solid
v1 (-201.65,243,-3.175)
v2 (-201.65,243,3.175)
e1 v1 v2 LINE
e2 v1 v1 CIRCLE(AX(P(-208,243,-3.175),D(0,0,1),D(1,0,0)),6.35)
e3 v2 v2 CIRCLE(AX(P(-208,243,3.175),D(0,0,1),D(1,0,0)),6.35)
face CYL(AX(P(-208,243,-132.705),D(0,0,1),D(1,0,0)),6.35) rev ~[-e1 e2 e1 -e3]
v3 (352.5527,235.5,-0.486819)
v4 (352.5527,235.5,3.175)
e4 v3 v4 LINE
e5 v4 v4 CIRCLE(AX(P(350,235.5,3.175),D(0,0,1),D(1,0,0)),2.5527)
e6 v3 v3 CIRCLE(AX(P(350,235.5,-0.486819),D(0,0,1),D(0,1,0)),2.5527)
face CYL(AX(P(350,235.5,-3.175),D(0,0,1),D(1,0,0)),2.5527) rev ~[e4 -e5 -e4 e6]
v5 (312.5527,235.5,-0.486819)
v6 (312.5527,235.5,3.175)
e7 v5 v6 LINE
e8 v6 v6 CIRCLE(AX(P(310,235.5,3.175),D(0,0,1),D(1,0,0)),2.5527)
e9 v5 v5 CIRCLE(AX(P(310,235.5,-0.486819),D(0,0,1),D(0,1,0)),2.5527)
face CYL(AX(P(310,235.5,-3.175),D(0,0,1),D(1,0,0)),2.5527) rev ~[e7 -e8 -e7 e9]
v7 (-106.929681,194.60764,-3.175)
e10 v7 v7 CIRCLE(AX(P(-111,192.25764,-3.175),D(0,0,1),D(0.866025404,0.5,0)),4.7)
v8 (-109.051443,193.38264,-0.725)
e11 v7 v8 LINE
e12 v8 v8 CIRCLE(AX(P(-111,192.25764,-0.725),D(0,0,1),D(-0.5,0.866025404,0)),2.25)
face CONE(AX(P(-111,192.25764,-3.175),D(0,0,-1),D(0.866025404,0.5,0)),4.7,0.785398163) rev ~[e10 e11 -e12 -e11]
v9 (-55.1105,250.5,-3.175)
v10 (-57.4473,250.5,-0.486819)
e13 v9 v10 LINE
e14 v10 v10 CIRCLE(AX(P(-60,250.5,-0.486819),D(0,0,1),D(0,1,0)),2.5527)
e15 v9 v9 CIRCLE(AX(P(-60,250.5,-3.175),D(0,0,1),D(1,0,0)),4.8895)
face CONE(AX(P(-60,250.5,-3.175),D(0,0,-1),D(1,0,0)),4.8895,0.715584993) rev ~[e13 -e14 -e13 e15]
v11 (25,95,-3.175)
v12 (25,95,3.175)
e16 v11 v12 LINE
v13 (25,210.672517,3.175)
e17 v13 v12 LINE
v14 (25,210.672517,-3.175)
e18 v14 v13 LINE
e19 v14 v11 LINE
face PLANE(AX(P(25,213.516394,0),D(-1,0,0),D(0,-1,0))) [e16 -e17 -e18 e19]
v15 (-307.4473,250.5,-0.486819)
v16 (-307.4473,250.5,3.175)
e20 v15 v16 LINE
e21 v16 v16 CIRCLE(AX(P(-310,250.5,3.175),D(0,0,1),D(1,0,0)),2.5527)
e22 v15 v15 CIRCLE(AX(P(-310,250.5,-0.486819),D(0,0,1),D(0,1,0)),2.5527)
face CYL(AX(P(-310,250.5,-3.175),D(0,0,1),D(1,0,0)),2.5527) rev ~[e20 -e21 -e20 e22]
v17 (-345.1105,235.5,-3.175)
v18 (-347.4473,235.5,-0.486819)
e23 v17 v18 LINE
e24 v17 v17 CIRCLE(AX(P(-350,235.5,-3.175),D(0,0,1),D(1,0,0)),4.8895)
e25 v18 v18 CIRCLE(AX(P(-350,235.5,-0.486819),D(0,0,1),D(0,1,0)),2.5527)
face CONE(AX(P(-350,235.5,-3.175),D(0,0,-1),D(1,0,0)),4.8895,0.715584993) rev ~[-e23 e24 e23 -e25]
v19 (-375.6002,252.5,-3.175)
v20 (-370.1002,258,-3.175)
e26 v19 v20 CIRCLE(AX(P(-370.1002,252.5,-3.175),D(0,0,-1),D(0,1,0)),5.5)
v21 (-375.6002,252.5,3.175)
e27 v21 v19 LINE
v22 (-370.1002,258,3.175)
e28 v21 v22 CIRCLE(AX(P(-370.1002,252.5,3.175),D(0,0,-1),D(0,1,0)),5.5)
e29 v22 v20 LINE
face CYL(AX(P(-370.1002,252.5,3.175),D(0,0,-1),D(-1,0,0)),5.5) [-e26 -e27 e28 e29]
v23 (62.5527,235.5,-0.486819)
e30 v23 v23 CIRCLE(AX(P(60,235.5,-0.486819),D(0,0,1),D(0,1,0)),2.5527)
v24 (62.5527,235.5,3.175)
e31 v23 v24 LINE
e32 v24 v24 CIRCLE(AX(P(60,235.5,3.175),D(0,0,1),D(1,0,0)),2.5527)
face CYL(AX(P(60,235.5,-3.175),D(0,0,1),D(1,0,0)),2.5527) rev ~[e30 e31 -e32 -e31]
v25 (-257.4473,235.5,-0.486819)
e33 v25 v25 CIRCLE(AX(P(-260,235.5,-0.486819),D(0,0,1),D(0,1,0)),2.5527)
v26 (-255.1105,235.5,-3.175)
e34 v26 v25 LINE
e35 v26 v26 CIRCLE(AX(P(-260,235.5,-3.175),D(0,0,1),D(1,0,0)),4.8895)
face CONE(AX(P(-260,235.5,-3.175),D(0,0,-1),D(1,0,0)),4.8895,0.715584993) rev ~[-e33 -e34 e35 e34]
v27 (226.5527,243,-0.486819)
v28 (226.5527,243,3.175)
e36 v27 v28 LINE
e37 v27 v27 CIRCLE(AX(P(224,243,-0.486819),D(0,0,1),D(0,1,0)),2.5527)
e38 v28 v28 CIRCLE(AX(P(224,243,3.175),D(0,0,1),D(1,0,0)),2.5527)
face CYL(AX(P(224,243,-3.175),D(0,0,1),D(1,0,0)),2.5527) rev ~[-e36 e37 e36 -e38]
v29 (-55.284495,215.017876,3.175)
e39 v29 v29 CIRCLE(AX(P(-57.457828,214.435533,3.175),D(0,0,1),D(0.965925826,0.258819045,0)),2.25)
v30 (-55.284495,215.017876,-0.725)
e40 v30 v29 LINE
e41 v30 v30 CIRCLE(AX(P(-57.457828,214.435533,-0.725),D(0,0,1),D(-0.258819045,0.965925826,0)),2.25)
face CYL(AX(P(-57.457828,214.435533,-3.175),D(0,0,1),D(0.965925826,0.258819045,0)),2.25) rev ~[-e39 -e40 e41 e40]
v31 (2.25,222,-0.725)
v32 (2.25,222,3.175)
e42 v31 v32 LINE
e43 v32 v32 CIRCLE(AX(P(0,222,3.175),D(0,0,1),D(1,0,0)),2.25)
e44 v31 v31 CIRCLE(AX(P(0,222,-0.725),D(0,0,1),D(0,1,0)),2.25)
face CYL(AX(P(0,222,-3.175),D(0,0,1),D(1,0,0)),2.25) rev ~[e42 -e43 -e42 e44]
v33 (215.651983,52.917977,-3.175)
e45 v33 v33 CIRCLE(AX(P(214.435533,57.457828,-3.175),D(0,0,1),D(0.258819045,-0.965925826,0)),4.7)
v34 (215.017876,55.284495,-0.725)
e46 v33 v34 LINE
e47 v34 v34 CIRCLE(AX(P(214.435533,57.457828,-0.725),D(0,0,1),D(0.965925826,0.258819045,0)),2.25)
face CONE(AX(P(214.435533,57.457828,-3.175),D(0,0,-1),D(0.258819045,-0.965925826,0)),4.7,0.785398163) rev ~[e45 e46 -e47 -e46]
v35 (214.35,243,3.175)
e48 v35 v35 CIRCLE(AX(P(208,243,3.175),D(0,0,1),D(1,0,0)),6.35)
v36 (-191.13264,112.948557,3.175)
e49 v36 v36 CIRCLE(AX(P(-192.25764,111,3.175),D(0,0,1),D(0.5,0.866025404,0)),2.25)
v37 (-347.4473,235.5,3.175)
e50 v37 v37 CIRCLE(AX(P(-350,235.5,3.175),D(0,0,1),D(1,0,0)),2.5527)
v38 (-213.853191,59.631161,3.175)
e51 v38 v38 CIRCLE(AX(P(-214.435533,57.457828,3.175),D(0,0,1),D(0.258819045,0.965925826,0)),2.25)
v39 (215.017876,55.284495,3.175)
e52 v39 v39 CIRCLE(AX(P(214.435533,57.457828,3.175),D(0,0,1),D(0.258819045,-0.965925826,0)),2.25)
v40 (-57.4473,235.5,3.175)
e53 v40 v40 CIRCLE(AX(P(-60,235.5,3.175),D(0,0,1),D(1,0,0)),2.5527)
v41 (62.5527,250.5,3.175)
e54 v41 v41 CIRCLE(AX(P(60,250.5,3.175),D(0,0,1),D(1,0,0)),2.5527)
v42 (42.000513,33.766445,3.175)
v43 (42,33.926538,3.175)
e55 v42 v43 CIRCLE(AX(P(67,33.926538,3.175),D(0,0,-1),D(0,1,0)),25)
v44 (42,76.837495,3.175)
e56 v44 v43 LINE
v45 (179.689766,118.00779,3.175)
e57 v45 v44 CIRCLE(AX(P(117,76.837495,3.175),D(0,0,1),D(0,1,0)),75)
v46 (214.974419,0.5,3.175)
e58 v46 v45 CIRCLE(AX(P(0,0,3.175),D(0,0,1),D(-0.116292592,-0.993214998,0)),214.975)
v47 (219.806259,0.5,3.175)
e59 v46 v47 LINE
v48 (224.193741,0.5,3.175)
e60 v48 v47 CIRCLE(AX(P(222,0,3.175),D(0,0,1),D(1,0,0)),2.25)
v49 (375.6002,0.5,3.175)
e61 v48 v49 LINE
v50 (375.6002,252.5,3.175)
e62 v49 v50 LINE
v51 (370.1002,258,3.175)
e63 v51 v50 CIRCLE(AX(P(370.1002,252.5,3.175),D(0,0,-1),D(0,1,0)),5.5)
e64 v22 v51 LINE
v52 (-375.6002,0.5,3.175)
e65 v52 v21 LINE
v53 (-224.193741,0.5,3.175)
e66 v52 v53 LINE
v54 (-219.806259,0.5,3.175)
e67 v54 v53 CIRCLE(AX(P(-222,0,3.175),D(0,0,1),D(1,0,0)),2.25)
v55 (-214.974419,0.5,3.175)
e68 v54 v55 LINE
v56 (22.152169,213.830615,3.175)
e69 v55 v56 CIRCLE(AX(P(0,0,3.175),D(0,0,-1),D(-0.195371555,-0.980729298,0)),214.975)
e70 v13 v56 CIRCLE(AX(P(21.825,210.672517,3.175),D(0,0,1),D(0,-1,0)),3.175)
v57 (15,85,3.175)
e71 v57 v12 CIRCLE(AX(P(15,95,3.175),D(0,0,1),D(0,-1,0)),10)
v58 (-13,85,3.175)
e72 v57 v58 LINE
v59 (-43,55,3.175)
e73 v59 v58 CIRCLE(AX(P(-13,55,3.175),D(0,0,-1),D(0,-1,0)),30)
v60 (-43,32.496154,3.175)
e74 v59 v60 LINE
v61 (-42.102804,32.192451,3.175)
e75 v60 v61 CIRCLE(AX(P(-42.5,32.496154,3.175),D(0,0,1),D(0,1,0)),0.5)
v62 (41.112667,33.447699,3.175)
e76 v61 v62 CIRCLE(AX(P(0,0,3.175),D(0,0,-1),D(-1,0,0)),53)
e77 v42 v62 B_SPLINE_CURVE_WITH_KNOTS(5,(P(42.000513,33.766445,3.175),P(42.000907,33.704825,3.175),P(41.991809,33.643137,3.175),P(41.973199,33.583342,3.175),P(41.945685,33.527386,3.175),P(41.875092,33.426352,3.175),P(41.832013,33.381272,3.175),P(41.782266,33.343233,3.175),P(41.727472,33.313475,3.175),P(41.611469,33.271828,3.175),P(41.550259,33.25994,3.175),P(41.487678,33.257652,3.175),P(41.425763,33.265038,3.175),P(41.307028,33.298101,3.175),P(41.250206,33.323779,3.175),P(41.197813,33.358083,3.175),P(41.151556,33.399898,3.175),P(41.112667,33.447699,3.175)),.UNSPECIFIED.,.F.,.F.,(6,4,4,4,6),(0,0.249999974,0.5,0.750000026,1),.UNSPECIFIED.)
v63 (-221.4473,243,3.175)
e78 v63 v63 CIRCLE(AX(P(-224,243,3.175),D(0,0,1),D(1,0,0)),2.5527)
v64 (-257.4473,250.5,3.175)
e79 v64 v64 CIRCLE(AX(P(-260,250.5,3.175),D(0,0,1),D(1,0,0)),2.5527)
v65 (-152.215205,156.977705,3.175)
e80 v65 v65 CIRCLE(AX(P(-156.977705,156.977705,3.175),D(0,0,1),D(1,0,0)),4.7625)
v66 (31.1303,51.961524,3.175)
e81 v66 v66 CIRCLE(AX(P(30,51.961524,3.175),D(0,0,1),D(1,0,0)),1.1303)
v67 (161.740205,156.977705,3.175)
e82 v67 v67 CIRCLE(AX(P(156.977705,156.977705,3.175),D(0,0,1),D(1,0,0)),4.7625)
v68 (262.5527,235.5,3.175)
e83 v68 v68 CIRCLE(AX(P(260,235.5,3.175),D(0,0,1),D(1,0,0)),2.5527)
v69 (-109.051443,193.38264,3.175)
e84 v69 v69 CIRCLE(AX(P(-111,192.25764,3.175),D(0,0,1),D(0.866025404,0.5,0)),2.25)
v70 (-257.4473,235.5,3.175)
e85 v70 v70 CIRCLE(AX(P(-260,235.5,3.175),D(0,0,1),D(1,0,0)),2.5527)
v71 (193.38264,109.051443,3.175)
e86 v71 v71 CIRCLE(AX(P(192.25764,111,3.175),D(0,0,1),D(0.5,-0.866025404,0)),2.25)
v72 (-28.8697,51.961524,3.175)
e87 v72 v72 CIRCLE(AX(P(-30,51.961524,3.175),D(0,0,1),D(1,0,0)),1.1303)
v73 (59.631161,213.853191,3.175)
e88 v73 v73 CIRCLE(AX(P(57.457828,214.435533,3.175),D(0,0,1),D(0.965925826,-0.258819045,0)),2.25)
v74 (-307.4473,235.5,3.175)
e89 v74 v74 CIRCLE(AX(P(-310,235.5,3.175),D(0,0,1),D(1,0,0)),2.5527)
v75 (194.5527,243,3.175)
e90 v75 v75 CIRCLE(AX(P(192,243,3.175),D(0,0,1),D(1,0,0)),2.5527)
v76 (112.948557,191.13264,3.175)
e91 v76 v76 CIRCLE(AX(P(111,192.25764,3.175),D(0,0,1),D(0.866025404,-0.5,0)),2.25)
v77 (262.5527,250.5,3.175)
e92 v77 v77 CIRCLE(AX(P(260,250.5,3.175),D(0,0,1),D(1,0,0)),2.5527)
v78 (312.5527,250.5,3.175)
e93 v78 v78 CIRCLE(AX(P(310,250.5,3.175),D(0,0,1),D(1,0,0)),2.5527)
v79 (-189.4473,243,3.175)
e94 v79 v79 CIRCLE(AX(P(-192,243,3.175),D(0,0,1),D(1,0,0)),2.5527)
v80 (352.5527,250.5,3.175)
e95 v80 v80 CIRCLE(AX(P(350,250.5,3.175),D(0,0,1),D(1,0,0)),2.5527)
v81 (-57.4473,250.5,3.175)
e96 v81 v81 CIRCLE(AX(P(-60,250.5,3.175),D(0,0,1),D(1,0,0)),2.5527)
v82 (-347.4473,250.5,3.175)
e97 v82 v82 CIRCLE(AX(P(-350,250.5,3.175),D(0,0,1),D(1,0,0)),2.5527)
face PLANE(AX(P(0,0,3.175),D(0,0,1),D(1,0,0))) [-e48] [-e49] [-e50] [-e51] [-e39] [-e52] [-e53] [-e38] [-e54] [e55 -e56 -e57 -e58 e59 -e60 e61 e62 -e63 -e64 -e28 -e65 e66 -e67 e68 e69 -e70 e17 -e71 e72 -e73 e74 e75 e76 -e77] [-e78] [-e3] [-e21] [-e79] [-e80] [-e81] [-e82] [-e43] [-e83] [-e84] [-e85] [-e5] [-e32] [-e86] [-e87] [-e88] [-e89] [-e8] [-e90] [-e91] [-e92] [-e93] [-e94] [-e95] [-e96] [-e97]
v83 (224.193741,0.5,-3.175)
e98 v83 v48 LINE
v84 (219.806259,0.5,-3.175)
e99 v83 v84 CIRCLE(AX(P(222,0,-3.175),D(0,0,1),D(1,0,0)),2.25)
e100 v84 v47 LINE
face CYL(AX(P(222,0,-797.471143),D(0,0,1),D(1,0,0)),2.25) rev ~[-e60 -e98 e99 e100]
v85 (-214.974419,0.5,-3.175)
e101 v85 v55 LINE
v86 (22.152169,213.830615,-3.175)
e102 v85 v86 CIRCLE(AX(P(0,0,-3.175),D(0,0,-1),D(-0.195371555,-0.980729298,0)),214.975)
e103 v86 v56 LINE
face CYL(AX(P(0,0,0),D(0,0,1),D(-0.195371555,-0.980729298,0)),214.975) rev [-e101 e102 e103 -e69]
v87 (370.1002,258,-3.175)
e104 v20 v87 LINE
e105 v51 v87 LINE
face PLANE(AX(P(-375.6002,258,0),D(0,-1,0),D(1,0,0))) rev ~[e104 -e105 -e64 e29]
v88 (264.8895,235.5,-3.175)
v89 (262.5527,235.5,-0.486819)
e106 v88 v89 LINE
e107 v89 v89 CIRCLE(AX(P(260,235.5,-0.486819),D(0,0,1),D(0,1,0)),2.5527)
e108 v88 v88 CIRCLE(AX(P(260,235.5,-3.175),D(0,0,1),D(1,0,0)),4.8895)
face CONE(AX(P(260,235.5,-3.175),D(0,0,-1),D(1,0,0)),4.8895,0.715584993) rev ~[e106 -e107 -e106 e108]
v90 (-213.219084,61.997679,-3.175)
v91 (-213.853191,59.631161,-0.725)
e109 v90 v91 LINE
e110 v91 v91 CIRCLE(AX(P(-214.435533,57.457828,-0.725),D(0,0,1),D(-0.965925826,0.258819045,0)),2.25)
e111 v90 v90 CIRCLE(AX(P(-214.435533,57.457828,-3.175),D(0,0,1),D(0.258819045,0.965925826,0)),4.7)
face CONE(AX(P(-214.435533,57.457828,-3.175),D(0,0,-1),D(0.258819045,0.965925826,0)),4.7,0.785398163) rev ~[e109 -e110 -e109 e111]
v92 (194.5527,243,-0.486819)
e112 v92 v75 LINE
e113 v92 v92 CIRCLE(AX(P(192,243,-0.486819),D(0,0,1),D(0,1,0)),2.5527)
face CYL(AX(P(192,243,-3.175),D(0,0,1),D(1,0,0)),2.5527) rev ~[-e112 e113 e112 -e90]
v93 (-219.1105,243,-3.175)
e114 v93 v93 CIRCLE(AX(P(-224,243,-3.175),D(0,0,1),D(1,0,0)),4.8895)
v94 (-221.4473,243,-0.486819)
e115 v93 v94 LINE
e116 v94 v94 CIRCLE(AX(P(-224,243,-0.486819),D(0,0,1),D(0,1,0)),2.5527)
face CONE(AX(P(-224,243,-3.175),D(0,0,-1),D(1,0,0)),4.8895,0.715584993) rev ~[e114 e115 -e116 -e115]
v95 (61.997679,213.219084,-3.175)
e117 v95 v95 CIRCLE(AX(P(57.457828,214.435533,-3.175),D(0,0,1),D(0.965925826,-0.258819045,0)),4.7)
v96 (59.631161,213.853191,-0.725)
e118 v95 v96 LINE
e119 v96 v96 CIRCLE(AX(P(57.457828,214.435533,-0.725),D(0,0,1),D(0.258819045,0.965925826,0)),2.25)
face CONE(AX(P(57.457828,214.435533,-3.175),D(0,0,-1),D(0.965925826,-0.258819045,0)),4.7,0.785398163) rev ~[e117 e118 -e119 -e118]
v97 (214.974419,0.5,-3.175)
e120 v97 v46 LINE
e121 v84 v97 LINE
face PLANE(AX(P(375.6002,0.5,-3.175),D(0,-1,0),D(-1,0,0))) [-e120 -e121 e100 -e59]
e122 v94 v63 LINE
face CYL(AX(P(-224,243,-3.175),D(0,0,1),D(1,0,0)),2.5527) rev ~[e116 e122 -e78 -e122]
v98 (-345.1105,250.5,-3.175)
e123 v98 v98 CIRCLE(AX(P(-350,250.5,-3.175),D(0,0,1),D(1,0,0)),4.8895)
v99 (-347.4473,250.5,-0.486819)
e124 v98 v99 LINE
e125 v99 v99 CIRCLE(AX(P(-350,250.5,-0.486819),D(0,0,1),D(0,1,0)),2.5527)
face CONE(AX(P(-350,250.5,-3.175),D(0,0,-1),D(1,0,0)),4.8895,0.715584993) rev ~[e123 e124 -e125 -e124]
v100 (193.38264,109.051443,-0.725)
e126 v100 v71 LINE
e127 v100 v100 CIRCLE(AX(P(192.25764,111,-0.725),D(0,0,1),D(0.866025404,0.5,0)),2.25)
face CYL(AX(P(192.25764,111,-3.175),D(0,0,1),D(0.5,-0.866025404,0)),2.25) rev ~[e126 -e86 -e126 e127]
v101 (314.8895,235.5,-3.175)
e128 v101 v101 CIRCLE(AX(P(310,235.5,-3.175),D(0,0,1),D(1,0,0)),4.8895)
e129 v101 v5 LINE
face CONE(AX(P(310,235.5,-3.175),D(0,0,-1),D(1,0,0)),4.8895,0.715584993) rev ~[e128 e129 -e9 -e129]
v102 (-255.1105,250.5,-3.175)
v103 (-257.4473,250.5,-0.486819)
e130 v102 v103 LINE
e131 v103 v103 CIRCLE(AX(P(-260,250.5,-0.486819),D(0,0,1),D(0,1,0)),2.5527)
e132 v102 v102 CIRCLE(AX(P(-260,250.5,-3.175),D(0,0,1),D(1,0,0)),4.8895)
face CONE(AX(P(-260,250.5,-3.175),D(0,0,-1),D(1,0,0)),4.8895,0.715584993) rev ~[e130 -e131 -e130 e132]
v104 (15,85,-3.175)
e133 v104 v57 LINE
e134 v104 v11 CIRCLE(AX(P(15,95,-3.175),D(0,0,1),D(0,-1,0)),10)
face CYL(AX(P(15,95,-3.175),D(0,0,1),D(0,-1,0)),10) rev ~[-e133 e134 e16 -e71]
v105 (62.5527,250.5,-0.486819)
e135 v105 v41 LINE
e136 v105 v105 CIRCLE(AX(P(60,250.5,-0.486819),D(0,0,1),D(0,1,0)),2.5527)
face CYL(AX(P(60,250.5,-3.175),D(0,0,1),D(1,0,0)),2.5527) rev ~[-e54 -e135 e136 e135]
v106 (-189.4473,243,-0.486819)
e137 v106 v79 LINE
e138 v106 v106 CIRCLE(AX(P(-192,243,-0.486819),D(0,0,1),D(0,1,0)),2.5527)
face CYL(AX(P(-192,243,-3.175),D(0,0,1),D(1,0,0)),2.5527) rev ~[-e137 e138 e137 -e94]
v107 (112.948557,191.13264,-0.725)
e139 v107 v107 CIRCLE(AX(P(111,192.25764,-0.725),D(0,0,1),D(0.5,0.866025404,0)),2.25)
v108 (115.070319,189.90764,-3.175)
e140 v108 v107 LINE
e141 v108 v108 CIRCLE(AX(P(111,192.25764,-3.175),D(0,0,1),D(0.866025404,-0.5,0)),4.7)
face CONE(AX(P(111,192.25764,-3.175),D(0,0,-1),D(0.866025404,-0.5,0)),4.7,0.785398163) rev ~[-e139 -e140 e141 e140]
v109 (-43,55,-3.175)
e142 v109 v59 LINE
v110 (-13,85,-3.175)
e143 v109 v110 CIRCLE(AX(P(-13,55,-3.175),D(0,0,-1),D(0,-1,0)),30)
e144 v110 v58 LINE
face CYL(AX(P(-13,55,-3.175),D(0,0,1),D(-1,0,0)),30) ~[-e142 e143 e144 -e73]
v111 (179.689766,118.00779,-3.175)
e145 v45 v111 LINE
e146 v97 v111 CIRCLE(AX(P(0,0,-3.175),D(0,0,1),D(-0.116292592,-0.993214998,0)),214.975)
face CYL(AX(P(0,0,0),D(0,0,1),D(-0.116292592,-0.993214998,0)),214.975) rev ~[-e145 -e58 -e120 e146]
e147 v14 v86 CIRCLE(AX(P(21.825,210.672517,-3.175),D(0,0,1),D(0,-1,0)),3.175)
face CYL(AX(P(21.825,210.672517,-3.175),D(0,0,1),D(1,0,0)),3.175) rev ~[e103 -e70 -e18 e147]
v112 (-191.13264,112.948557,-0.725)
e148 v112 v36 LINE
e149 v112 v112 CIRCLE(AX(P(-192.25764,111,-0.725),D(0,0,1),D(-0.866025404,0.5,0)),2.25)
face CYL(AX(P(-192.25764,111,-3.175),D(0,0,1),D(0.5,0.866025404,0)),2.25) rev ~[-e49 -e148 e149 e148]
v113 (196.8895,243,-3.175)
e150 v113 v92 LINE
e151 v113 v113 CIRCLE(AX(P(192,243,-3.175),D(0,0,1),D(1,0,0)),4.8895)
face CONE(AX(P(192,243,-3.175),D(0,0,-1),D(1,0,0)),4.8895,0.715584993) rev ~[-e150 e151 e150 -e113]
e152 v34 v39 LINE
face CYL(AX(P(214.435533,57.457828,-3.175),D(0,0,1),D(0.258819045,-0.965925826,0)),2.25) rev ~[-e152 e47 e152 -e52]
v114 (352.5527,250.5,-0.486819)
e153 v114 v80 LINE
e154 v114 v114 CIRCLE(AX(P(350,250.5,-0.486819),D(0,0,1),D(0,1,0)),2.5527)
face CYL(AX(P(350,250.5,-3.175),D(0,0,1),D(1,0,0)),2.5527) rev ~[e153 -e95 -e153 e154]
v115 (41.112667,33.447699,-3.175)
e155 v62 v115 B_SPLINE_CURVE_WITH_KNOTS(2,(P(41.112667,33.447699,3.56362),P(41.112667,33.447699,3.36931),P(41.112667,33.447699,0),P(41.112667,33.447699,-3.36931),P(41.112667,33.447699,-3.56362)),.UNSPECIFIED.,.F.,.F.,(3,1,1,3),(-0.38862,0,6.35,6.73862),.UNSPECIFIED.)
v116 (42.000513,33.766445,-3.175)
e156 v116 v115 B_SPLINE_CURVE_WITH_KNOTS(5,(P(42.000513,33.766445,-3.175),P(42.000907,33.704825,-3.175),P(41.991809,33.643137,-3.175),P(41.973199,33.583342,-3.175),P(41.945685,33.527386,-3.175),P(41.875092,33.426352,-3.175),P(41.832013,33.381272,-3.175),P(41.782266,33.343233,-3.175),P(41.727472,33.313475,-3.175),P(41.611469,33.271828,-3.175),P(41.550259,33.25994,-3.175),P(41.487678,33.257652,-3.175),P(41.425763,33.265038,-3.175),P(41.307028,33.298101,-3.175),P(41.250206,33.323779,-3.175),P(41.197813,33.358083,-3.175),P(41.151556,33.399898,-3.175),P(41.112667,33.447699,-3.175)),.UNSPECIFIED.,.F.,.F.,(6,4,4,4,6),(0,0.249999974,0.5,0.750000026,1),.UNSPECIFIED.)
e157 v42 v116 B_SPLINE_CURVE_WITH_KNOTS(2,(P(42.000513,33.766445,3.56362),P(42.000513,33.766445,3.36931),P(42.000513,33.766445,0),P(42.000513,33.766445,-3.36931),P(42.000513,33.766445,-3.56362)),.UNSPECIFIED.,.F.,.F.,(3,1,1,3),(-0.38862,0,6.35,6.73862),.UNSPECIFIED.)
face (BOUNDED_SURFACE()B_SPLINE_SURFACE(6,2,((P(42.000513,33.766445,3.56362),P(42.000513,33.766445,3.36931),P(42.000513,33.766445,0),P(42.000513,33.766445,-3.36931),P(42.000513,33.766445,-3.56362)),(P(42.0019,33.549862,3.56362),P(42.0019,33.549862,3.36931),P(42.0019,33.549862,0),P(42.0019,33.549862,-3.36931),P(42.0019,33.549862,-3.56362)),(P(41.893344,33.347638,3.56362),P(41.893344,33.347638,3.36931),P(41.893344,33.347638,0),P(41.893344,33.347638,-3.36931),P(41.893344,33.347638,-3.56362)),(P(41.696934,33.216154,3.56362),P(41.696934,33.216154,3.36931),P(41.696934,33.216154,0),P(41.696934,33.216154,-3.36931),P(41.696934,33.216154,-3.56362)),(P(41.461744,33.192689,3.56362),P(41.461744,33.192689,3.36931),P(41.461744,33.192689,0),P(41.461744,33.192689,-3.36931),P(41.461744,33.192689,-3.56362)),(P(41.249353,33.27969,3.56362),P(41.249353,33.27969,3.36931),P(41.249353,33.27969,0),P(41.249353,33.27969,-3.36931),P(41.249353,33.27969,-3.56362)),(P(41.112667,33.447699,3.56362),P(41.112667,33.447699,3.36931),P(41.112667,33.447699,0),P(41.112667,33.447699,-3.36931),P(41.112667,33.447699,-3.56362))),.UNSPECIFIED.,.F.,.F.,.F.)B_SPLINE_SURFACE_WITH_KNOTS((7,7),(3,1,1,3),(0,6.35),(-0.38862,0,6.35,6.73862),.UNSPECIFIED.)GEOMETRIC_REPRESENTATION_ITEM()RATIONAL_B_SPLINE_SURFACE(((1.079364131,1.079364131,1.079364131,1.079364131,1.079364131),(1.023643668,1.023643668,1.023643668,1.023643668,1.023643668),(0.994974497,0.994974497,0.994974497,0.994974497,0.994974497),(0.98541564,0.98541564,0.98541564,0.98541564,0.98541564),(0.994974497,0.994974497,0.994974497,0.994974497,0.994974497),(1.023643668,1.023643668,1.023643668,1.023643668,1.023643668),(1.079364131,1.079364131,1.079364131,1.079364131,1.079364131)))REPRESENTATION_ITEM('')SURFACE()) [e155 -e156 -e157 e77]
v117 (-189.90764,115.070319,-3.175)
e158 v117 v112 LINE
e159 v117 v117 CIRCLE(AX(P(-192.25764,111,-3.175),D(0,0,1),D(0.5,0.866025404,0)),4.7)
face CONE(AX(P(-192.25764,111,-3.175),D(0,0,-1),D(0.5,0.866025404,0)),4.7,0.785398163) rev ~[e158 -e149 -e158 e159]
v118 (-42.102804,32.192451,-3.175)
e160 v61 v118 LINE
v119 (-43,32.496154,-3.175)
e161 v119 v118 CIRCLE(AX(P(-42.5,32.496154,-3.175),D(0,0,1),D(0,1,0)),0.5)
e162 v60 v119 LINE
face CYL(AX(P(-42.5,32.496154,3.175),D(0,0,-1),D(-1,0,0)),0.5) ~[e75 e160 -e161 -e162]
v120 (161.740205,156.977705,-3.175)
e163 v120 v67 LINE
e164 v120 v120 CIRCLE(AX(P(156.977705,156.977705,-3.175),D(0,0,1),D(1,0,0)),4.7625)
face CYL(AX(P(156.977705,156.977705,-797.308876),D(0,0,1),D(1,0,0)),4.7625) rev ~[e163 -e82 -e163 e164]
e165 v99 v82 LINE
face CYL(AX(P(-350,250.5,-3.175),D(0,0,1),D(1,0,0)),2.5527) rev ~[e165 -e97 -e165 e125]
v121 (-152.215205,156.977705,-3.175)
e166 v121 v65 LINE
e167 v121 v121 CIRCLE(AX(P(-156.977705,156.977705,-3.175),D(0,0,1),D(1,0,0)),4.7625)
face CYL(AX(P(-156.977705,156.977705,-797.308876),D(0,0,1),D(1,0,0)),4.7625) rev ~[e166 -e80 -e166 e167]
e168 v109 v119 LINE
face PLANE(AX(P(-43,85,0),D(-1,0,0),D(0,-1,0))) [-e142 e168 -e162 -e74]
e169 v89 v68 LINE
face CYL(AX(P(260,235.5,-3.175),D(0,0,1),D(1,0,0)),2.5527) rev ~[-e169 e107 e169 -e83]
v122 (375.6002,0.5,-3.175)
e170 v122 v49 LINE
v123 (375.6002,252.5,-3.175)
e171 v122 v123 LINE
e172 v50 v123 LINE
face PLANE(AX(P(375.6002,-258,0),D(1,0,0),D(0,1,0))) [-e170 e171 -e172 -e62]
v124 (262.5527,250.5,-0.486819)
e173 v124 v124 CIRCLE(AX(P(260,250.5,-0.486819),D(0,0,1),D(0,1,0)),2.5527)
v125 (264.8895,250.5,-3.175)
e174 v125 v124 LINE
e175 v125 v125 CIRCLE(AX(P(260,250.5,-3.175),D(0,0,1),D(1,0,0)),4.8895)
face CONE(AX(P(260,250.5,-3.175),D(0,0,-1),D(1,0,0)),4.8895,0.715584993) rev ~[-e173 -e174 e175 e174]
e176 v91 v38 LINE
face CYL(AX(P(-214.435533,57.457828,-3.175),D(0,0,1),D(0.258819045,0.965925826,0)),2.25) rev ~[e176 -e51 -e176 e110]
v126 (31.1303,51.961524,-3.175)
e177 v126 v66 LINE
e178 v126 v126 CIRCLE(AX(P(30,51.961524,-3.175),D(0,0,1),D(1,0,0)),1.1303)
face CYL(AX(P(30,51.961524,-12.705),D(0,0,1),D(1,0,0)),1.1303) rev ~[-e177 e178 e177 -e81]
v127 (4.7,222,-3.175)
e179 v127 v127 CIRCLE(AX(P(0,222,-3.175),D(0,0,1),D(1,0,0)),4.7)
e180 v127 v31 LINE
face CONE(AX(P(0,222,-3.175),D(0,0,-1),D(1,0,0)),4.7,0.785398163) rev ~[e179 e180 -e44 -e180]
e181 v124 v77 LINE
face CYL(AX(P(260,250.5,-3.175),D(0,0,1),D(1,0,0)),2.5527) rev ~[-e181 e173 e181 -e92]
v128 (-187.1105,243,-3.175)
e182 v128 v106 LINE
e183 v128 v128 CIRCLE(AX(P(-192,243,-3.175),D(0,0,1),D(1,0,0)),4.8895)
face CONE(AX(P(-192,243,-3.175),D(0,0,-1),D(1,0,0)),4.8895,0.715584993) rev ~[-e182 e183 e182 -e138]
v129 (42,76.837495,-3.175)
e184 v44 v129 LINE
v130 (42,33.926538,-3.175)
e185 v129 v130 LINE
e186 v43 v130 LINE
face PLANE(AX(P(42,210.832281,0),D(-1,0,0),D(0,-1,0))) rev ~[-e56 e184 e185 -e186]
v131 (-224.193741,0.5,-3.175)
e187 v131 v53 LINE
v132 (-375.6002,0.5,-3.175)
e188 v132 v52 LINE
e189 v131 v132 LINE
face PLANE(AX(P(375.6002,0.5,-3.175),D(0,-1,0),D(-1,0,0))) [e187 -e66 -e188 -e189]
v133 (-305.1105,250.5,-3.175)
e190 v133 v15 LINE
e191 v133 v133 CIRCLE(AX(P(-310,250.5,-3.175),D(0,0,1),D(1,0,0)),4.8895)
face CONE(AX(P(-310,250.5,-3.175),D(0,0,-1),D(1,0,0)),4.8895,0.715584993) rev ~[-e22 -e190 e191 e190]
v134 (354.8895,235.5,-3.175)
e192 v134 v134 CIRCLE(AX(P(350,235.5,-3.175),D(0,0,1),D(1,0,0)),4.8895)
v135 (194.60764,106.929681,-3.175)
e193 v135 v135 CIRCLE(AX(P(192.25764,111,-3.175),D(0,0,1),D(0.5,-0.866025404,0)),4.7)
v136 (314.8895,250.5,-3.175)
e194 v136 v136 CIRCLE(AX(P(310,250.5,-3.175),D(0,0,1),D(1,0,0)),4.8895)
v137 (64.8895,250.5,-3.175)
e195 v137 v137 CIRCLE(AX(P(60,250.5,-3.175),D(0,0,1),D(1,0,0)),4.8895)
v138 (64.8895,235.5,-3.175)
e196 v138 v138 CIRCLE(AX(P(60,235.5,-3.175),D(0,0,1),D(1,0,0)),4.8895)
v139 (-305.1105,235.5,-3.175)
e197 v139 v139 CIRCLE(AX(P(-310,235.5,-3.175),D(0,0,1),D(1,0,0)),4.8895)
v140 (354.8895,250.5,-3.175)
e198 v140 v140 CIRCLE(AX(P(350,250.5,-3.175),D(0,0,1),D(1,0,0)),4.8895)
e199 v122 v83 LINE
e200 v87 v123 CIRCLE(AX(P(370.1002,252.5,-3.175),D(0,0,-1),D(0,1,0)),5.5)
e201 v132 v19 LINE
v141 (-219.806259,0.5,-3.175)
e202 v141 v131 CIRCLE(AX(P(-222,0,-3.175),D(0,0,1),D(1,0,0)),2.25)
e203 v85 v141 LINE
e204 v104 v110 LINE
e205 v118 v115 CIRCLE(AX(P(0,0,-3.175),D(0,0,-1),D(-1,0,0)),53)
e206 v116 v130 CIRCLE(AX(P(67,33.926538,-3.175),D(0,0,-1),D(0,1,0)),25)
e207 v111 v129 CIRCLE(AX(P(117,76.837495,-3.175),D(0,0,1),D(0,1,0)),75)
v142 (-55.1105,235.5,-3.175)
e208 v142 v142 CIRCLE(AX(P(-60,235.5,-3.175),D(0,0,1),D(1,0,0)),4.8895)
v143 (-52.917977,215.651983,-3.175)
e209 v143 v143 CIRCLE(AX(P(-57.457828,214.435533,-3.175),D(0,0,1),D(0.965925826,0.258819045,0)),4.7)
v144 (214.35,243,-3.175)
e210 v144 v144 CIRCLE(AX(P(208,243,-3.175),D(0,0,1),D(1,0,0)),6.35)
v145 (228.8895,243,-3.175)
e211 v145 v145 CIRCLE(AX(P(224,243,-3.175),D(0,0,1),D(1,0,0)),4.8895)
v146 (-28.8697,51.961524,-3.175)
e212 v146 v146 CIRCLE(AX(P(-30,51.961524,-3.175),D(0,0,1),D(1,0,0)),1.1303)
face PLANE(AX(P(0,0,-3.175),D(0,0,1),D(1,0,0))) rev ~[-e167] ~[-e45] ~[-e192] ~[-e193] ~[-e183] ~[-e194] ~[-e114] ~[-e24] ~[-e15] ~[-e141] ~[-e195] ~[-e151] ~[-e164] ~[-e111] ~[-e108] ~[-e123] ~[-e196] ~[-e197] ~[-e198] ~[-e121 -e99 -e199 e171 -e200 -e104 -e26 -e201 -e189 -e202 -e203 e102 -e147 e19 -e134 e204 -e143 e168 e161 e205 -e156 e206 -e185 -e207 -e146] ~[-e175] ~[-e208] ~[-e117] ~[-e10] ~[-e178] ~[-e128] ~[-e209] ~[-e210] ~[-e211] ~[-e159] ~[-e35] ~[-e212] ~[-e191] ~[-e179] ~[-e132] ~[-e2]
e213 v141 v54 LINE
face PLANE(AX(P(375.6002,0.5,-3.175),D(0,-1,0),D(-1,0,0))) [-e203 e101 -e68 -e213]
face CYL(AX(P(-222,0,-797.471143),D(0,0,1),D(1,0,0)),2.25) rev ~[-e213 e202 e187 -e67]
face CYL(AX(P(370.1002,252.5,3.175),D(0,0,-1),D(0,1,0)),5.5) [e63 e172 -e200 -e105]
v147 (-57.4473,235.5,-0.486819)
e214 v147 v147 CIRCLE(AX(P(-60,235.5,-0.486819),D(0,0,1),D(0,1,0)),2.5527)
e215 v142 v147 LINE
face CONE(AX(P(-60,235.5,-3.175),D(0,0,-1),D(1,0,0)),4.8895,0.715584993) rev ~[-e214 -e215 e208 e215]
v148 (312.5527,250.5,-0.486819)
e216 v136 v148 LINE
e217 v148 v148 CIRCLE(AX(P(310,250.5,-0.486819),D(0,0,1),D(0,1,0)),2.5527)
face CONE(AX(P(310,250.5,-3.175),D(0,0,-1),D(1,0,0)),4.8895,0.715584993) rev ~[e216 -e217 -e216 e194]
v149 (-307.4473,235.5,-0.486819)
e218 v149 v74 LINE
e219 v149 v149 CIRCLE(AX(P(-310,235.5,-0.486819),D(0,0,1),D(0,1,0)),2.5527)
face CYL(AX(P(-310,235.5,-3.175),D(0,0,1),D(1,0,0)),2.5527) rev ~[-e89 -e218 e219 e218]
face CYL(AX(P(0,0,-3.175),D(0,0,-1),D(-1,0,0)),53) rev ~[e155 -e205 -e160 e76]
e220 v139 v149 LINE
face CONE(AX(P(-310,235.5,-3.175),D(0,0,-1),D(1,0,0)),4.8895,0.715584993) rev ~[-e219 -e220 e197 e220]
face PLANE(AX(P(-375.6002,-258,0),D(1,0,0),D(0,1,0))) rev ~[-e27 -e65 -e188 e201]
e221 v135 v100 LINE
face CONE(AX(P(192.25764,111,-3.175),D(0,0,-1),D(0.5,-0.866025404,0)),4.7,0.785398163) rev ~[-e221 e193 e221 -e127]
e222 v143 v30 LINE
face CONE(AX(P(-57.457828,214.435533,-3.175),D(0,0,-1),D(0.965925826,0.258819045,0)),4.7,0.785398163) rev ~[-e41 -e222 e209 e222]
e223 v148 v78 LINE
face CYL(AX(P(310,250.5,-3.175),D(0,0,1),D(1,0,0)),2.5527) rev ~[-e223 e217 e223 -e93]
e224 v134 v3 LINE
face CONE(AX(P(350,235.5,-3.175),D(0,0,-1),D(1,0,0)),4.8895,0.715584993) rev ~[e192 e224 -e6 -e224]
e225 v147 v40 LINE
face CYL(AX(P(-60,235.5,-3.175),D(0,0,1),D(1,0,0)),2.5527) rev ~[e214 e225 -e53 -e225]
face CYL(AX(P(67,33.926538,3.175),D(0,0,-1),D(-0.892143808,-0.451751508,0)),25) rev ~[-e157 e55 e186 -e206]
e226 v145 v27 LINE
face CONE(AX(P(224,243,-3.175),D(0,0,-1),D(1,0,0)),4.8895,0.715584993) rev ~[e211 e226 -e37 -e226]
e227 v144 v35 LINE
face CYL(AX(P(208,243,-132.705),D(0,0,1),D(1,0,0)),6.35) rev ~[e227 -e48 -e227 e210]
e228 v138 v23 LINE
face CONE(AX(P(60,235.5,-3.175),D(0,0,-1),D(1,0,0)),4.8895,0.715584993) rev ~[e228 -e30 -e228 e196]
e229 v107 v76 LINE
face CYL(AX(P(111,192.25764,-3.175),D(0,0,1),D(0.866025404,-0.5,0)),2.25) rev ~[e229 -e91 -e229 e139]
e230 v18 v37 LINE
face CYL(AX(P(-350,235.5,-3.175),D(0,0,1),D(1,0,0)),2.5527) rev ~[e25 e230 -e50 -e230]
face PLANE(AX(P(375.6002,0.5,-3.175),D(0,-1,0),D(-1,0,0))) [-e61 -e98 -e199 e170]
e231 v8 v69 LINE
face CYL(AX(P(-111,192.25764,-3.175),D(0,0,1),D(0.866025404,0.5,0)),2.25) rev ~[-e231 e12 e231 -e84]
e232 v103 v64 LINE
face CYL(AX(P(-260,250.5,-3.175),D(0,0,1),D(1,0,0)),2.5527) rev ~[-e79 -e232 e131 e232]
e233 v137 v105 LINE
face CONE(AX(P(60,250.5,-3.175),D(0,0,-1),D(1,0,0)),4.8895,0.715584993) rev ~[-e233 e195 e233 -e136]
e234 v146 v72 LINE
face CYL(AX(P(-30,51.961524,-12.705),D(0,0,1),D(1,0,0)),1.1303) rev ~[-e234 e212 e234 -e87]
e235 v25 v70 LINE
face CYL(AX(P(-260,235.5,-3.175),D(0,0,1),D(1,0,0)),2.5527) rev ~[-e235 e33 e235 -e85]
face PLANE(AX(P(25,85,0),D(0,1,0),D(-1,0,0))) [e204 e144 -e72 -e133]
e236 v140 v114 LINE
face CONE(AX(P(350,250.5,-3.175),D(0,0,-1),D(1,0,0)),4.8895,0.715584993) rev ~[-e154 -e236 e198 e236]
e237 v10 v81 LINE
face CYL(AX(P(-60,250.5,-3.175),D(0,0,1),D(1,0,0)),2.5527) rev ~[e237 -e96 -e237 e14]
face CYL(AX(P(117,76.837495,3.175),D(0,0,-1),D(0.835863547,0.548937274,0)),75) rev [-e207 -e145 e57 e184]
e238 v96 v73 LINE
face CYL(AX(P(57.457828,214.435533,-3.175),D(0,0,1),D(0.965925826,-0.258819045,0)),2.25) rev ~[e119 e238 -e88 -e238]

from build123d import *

# Parameters (mm, degrees)
SKETCH1_W                                       = 751.2004
SKETCH1_H                                       = 516
SKETCH1_R                                       = 42.5
BOSS_EXTRUDE2_DEPTH                             = 3.175
FILLET1_R                                       = 25
FILLET4_R                                       = 75
SKETCH2_W                                       = 751.2004
SKETCH2_H                                       = 258
CUT_EXTRUDE1_DEPTH                              = 10
FILLET6_R                                       = 10
FILLET7_R                                       = 30
CSK_FOR_10_FLAT_HEAD_MACHINE_SCREW1_D           = 5.1054
CSK_FOR_10_FLAT_HEAD_MACHINE_SCREW1_CSINK_D     = 9.779
CSK_FOR_10_FLAT_HEAD_MACHINE_SCREW1_CSINK_ANGLE = 82
F_1_2_0_5_DIAMETER_HOLE1_D                      = 12.7
F_1_2_0_5_DIAMETER_HOLE1_DEPTH                  = 129.53
F_1_2_0_5_DIAMETER_HOLE1_TIP                    = 3.815464931
CSK_FOR_M4_FLAT_HEAD_MACHINE_SCREW1_D           = 4.5
CSK_FOR_M4_FLAT_HEAD_MACHINE_SCREW1_CSINK_D     = 9.4
CSK_FOR_M4_FLAT_HEAD_MACHINE_SCREW1_CSINK_ANGLE = 90
CIRPATTERN1_COUNT                               = 24
M4_CLEARANCE_HOLE1_D                            = 4.5
SKETCH12_W                                      = 751.2004
SKETCH12_H                                      = 1
CUT_EXTRUDE2_DEPTH                              = 7.35
FILLET8_R                                       = 3.175
FILLET9_R                                       = 5.5
F_3_8_0_375_DIAMETER_HOLE1_TO_CLEAR_4_MM_D      = 9.525
SKETCH18_R                                      = 53
CUT_EXTRUDE3_DEPTH                              = 7.35
F_4_40_TAPPED_HOLE1_D                           = 2.2606
F_4_40_TAPPED_HOLE1_DEPTH                       = 9.53
F_4_40_TAPPED_HOLE1_TIP                         = 0.679152758
FILLET10_R                                      = 0.5


with BuildPart() as part:
    # Sketch1 → Boss-Extrude2 (new body, symmetric)
    with BuildSketch(Plane.XY):
        Rectangle(SKETCH1_W, SKETCH1_H)
        Circle(SKETCH1_R, mode=Mode.SUBTRACT)
        with BuildLine():
            Line((25, 213.516394277), (25, 85))
            Line((25, 85), (-43, 85))
            Line((-43, 85), (-43, 25.710114741))
            ThreePointArc((-43, 25.710114741), (-50.091092447, -0.94469967), (-42, -27.31318363))
            Line((-42, -27.31318363), (-42, -210.832280794))
            ThreePointArc((-42, -210.832280794), (-212.344530207, 33.526871555), (25, 213.516394277))
        make_face(mode=Mode.SUBTRACT)
        with BuildLine():
            Line((-25, -63), (-25, -213.516394277))
            ThreePointArc((-25, -213.516394277), (212.344530207, -33.526871555), (42, 210.832280794))
            Line((42, 210.832280794), (42, 27.31318363))
            ThreePointArc((42, 27.31318363), (47.61154138, -15.593303928), (17.70508892, -46.867257508))
            Line((17.70508892, -46.867257508), (-25, -63))
        make_face(mode=Mode.SUBTRACT)
    extrude(amount=BOSS_EXTRUDE2_DEPTH, both=True)

    # Fillet1
    fillet1_edges = [part.edges().sort_by_distance(p)[0] for p in [
        (42, 27.31318363, 0),
        (-25, -63, 0),
        (-42, -27.31318363, 0),
    ]]
    fillet(fillet1_edges, radius=FILLET1_R)

    # Fillet4
    fillet4_edges = [part.edges().sort_by_distance(p)[0] for p in [
        (42, 210.832280794, 0),
        (-42, -210.832280794, 0),
    ]]
    fillet(fillet4_edges, radius=FILLET4_R)

    # Sketch2 → Cut-Extrude1 (cut)
    with BuildSketch(Plane(origin=(0, 0, -3.175), x_dir=(-1, 0, 0), z_dir=(0, 0, -1))):
        with Locations((0, -129)):
            Rectangle(SKETCH2_W, SKETCH2_H)
    extrude(amount=-CUT_EXTRUDE1_DEPTH, mode=Mode.SUBTRACT)

    # Fillet6
    fillet6_edges = [part.edges().sort_by_distance(p)[0] for p in [
        (-43, 25.710114741, 0),
        (25, 85, 0),
    ]]
    fillet(fillet6_edges, radius=FILLET6_R)

    # Fillet7
    fillet7_edges = [part.edges().sort_by_distance(p)[0] for p in [
        (-43, 85, 0),
    ]]
    fillet(fillet7_edges, radius=FILLET7_R)

    # CSK for #10 Flat Head Machine Screw1 (through all)
    with Locations(Plane(origin=(0, 0, -3.175), x_dir=(-1, 0, 0), z_dir=(0, 0, -1))):
        with Locations((350, 235.5), (350, 250.5), (60, 235.5), (60, 250.5), (-60, 235.5), (-60, 250.5), (-350, 235.5), (-350, 250.5), (310, 235.5), (310, 250.5), (260, 235.5), (260, 250.5), (-310, 235.5), (-310, 250.5), (-260, 235.5), (-260, 250.5), (224, 243), (192, 243), (-224, 243), (-192, 243)):
            CounterSinkHole(CSK_FOR_10_FLAT_HEAD_MACHINE_SCREW1_D / 2, CSK_FOR_10_FLAT_HEAD_MACHINE_SCREW1_CSINK_D / 2, counter_sink_angle=CSK_FOR_10_FLAT_HEAD_MACHINE_SCREW1_CSINK_ANGLE)

    # 1/2 (0.5) Diameter Hole1
    with Locations(Plane(origin=(0, 0, -3.175), x_dir=(-1, 0, 0), z_dir=(0, 0, -1))):
        with Locations((208, 243), (-208, 243)):
            Hole(F_1_2_0_5_DIAMETER_HOLE1_D / 2, depth=F_1_2_0_5_DIAMETER_HOLE1_DEPTH)
            with Locations((0, 0, -(F_1_2_0_5_DIAMETER_HOLE1_DEPTH + F_1_2_0_5_DIAMETER_HOLE1_TIP / 2))):  # 118° drill point
                Cone(0, F_1_2_0_5_DIAMETER_HOLE1_D / 2, F_1_2_0_5_DIAMETER_HOLE1_TIP, mode=Mode.SUBTRACT)

    # CSK for M4 Flat Head Machine Screw1 (through all)
    with Locations(Plane(origin=(0, 0, -3.175), x_dir=(-1, 0, 0), z_dir=(0, 0, -1))):
        with Locations((0, 222)):
            csk_for_m4_flat_head_machine_screw1 = CounterSinkHole(CSK_FOR_M4_FLAT_HEAD_MACHINE_SCREW1_D / 2, CSK_FOR_M4_FLAT_HEAD_MACHINE_SCREW1_CSINK_D / 2, counter_sink_angle=CSK_FOR_M4_FLAT_HEAD_MACHINE_SCREW1_CSINK_ANGLE)

    # CirPattern1: CSK for M4 Flat Head Machine Screw1 ×24 about axis, 13 skipped
    cirpattern1_axis = Axis((0, 0, 0), (0, 0, 1))
    add([csk_for_m4_flat_head_machine_screw1.rotate(cirpattern1_axis, i * 360 / CIRPATTERN1_COUNT) for i in range(1, CIRPATTERN1_COUNT) if i not in (6, 7, 8, 9, 10, 11, 12, 13, 14, 15, 16, 17, 18)], mode=Mode.SUBTRACT)

    # M4 Clearance Hole1 (through all)
    with Locations(Plane(origin=(0, 0, -3.175), x_dir=(-1, 0, 0), z_dir=(0, 0, -1))):
        with Locations((-222, 0), (222, 0)):
            Hole(M4_CLEARANCE_HOLE1_D / 2)

    # Sketch12 → Cut-Extrude2 (cut, through all)
    with BuildSketch(Plane(origin=(0, 0, -3.175), x_dir=(-1, 0, 0), z_dir=(0, 0, -1))):
        Rectangle(SKETCH12_W, SKETCH12_H)
    extrude(amount=-CUT_EXTRUDE2_DEPTH, mode=Mode.SUBTRACT)

    # Fillet8
    fillet8_edges = [part.edges().sort_by_distance(p)[0] for p in [
        (25, 213.516394277, 0),
    ]]
    fillet(fillet8_edges, radius=FILLET8_R)

    # Fillet9
    fillet9_edges = [part.edges().sort_by_distance(p)[0] for p in [
        (-375.6002, 258, 0),
        (375.6002, 258, 0),
    ]]
    fillet(fillet9_edges, radius=FILLET9_R)

    # 3/8 (0.375) Diameter Hole1 to clear  4 mm cap screw (through all)
    with Locations(Plane(origin=(0, 0, -3.175), x_dir=(-1, 0, 0), z_dir=(0, 0, -1))):
        with Locations((-156.977705423, 156.977705423), (156.977705423, 156.977705423)):
            Hole(F_3_8_0_375_DIAMETER_HOLE1_TO_CLEAR_4_MM_D / 2)

    # Sketch18 → Cut-Extrude3 (cut, through all)
    with BuildSketch(Plane(origin=(0, 0, -3.175), x_dir=(-1, 0, 0), z_dir=(0, 0, -1))):
        Circle(SKETCH18_R)
    extrude(amount=-CUT_EXTRUDE3_DEPTH, mode=Mode.SUBTRACT)

    # #4-40 Tapped Hole1
    with Locations(Plane(origin=(0, 0, -3.175), x_dir=(-1, 0, 0), z_dir=(0, 0, -1))):
        with Locations((-30, 51.961524227), (30, 51.961524227)):
            Hole(F_4_40_TAPPED_HOLE1_D / 2, depth=F_4_40_TAPPED_HOLE1_DEPTH)
            with Locations((0, 0, -(F_4_40_TAPPED_HOLE1_DEPTH + F_4_40_TAPPED_HOLE1_TIP / 2))):  # 118° drill point
                Cone(0, F_4_40_TAPPED_HOLE1_D / 2, F_4_40_TAPPED_HOLE1_TIP, mode=Mode.SUBTRACT)

    # Fillet10
    fillet10_edges = [part.edges().sort_by_distance(p)[0] for p in [
        (42.05604293, 32.253515359, 0),
        (-43, 30.98386677, 0),
    ]]
    fillet(fillet10_edges, radius=FILLET10_R)


solid = part.part
